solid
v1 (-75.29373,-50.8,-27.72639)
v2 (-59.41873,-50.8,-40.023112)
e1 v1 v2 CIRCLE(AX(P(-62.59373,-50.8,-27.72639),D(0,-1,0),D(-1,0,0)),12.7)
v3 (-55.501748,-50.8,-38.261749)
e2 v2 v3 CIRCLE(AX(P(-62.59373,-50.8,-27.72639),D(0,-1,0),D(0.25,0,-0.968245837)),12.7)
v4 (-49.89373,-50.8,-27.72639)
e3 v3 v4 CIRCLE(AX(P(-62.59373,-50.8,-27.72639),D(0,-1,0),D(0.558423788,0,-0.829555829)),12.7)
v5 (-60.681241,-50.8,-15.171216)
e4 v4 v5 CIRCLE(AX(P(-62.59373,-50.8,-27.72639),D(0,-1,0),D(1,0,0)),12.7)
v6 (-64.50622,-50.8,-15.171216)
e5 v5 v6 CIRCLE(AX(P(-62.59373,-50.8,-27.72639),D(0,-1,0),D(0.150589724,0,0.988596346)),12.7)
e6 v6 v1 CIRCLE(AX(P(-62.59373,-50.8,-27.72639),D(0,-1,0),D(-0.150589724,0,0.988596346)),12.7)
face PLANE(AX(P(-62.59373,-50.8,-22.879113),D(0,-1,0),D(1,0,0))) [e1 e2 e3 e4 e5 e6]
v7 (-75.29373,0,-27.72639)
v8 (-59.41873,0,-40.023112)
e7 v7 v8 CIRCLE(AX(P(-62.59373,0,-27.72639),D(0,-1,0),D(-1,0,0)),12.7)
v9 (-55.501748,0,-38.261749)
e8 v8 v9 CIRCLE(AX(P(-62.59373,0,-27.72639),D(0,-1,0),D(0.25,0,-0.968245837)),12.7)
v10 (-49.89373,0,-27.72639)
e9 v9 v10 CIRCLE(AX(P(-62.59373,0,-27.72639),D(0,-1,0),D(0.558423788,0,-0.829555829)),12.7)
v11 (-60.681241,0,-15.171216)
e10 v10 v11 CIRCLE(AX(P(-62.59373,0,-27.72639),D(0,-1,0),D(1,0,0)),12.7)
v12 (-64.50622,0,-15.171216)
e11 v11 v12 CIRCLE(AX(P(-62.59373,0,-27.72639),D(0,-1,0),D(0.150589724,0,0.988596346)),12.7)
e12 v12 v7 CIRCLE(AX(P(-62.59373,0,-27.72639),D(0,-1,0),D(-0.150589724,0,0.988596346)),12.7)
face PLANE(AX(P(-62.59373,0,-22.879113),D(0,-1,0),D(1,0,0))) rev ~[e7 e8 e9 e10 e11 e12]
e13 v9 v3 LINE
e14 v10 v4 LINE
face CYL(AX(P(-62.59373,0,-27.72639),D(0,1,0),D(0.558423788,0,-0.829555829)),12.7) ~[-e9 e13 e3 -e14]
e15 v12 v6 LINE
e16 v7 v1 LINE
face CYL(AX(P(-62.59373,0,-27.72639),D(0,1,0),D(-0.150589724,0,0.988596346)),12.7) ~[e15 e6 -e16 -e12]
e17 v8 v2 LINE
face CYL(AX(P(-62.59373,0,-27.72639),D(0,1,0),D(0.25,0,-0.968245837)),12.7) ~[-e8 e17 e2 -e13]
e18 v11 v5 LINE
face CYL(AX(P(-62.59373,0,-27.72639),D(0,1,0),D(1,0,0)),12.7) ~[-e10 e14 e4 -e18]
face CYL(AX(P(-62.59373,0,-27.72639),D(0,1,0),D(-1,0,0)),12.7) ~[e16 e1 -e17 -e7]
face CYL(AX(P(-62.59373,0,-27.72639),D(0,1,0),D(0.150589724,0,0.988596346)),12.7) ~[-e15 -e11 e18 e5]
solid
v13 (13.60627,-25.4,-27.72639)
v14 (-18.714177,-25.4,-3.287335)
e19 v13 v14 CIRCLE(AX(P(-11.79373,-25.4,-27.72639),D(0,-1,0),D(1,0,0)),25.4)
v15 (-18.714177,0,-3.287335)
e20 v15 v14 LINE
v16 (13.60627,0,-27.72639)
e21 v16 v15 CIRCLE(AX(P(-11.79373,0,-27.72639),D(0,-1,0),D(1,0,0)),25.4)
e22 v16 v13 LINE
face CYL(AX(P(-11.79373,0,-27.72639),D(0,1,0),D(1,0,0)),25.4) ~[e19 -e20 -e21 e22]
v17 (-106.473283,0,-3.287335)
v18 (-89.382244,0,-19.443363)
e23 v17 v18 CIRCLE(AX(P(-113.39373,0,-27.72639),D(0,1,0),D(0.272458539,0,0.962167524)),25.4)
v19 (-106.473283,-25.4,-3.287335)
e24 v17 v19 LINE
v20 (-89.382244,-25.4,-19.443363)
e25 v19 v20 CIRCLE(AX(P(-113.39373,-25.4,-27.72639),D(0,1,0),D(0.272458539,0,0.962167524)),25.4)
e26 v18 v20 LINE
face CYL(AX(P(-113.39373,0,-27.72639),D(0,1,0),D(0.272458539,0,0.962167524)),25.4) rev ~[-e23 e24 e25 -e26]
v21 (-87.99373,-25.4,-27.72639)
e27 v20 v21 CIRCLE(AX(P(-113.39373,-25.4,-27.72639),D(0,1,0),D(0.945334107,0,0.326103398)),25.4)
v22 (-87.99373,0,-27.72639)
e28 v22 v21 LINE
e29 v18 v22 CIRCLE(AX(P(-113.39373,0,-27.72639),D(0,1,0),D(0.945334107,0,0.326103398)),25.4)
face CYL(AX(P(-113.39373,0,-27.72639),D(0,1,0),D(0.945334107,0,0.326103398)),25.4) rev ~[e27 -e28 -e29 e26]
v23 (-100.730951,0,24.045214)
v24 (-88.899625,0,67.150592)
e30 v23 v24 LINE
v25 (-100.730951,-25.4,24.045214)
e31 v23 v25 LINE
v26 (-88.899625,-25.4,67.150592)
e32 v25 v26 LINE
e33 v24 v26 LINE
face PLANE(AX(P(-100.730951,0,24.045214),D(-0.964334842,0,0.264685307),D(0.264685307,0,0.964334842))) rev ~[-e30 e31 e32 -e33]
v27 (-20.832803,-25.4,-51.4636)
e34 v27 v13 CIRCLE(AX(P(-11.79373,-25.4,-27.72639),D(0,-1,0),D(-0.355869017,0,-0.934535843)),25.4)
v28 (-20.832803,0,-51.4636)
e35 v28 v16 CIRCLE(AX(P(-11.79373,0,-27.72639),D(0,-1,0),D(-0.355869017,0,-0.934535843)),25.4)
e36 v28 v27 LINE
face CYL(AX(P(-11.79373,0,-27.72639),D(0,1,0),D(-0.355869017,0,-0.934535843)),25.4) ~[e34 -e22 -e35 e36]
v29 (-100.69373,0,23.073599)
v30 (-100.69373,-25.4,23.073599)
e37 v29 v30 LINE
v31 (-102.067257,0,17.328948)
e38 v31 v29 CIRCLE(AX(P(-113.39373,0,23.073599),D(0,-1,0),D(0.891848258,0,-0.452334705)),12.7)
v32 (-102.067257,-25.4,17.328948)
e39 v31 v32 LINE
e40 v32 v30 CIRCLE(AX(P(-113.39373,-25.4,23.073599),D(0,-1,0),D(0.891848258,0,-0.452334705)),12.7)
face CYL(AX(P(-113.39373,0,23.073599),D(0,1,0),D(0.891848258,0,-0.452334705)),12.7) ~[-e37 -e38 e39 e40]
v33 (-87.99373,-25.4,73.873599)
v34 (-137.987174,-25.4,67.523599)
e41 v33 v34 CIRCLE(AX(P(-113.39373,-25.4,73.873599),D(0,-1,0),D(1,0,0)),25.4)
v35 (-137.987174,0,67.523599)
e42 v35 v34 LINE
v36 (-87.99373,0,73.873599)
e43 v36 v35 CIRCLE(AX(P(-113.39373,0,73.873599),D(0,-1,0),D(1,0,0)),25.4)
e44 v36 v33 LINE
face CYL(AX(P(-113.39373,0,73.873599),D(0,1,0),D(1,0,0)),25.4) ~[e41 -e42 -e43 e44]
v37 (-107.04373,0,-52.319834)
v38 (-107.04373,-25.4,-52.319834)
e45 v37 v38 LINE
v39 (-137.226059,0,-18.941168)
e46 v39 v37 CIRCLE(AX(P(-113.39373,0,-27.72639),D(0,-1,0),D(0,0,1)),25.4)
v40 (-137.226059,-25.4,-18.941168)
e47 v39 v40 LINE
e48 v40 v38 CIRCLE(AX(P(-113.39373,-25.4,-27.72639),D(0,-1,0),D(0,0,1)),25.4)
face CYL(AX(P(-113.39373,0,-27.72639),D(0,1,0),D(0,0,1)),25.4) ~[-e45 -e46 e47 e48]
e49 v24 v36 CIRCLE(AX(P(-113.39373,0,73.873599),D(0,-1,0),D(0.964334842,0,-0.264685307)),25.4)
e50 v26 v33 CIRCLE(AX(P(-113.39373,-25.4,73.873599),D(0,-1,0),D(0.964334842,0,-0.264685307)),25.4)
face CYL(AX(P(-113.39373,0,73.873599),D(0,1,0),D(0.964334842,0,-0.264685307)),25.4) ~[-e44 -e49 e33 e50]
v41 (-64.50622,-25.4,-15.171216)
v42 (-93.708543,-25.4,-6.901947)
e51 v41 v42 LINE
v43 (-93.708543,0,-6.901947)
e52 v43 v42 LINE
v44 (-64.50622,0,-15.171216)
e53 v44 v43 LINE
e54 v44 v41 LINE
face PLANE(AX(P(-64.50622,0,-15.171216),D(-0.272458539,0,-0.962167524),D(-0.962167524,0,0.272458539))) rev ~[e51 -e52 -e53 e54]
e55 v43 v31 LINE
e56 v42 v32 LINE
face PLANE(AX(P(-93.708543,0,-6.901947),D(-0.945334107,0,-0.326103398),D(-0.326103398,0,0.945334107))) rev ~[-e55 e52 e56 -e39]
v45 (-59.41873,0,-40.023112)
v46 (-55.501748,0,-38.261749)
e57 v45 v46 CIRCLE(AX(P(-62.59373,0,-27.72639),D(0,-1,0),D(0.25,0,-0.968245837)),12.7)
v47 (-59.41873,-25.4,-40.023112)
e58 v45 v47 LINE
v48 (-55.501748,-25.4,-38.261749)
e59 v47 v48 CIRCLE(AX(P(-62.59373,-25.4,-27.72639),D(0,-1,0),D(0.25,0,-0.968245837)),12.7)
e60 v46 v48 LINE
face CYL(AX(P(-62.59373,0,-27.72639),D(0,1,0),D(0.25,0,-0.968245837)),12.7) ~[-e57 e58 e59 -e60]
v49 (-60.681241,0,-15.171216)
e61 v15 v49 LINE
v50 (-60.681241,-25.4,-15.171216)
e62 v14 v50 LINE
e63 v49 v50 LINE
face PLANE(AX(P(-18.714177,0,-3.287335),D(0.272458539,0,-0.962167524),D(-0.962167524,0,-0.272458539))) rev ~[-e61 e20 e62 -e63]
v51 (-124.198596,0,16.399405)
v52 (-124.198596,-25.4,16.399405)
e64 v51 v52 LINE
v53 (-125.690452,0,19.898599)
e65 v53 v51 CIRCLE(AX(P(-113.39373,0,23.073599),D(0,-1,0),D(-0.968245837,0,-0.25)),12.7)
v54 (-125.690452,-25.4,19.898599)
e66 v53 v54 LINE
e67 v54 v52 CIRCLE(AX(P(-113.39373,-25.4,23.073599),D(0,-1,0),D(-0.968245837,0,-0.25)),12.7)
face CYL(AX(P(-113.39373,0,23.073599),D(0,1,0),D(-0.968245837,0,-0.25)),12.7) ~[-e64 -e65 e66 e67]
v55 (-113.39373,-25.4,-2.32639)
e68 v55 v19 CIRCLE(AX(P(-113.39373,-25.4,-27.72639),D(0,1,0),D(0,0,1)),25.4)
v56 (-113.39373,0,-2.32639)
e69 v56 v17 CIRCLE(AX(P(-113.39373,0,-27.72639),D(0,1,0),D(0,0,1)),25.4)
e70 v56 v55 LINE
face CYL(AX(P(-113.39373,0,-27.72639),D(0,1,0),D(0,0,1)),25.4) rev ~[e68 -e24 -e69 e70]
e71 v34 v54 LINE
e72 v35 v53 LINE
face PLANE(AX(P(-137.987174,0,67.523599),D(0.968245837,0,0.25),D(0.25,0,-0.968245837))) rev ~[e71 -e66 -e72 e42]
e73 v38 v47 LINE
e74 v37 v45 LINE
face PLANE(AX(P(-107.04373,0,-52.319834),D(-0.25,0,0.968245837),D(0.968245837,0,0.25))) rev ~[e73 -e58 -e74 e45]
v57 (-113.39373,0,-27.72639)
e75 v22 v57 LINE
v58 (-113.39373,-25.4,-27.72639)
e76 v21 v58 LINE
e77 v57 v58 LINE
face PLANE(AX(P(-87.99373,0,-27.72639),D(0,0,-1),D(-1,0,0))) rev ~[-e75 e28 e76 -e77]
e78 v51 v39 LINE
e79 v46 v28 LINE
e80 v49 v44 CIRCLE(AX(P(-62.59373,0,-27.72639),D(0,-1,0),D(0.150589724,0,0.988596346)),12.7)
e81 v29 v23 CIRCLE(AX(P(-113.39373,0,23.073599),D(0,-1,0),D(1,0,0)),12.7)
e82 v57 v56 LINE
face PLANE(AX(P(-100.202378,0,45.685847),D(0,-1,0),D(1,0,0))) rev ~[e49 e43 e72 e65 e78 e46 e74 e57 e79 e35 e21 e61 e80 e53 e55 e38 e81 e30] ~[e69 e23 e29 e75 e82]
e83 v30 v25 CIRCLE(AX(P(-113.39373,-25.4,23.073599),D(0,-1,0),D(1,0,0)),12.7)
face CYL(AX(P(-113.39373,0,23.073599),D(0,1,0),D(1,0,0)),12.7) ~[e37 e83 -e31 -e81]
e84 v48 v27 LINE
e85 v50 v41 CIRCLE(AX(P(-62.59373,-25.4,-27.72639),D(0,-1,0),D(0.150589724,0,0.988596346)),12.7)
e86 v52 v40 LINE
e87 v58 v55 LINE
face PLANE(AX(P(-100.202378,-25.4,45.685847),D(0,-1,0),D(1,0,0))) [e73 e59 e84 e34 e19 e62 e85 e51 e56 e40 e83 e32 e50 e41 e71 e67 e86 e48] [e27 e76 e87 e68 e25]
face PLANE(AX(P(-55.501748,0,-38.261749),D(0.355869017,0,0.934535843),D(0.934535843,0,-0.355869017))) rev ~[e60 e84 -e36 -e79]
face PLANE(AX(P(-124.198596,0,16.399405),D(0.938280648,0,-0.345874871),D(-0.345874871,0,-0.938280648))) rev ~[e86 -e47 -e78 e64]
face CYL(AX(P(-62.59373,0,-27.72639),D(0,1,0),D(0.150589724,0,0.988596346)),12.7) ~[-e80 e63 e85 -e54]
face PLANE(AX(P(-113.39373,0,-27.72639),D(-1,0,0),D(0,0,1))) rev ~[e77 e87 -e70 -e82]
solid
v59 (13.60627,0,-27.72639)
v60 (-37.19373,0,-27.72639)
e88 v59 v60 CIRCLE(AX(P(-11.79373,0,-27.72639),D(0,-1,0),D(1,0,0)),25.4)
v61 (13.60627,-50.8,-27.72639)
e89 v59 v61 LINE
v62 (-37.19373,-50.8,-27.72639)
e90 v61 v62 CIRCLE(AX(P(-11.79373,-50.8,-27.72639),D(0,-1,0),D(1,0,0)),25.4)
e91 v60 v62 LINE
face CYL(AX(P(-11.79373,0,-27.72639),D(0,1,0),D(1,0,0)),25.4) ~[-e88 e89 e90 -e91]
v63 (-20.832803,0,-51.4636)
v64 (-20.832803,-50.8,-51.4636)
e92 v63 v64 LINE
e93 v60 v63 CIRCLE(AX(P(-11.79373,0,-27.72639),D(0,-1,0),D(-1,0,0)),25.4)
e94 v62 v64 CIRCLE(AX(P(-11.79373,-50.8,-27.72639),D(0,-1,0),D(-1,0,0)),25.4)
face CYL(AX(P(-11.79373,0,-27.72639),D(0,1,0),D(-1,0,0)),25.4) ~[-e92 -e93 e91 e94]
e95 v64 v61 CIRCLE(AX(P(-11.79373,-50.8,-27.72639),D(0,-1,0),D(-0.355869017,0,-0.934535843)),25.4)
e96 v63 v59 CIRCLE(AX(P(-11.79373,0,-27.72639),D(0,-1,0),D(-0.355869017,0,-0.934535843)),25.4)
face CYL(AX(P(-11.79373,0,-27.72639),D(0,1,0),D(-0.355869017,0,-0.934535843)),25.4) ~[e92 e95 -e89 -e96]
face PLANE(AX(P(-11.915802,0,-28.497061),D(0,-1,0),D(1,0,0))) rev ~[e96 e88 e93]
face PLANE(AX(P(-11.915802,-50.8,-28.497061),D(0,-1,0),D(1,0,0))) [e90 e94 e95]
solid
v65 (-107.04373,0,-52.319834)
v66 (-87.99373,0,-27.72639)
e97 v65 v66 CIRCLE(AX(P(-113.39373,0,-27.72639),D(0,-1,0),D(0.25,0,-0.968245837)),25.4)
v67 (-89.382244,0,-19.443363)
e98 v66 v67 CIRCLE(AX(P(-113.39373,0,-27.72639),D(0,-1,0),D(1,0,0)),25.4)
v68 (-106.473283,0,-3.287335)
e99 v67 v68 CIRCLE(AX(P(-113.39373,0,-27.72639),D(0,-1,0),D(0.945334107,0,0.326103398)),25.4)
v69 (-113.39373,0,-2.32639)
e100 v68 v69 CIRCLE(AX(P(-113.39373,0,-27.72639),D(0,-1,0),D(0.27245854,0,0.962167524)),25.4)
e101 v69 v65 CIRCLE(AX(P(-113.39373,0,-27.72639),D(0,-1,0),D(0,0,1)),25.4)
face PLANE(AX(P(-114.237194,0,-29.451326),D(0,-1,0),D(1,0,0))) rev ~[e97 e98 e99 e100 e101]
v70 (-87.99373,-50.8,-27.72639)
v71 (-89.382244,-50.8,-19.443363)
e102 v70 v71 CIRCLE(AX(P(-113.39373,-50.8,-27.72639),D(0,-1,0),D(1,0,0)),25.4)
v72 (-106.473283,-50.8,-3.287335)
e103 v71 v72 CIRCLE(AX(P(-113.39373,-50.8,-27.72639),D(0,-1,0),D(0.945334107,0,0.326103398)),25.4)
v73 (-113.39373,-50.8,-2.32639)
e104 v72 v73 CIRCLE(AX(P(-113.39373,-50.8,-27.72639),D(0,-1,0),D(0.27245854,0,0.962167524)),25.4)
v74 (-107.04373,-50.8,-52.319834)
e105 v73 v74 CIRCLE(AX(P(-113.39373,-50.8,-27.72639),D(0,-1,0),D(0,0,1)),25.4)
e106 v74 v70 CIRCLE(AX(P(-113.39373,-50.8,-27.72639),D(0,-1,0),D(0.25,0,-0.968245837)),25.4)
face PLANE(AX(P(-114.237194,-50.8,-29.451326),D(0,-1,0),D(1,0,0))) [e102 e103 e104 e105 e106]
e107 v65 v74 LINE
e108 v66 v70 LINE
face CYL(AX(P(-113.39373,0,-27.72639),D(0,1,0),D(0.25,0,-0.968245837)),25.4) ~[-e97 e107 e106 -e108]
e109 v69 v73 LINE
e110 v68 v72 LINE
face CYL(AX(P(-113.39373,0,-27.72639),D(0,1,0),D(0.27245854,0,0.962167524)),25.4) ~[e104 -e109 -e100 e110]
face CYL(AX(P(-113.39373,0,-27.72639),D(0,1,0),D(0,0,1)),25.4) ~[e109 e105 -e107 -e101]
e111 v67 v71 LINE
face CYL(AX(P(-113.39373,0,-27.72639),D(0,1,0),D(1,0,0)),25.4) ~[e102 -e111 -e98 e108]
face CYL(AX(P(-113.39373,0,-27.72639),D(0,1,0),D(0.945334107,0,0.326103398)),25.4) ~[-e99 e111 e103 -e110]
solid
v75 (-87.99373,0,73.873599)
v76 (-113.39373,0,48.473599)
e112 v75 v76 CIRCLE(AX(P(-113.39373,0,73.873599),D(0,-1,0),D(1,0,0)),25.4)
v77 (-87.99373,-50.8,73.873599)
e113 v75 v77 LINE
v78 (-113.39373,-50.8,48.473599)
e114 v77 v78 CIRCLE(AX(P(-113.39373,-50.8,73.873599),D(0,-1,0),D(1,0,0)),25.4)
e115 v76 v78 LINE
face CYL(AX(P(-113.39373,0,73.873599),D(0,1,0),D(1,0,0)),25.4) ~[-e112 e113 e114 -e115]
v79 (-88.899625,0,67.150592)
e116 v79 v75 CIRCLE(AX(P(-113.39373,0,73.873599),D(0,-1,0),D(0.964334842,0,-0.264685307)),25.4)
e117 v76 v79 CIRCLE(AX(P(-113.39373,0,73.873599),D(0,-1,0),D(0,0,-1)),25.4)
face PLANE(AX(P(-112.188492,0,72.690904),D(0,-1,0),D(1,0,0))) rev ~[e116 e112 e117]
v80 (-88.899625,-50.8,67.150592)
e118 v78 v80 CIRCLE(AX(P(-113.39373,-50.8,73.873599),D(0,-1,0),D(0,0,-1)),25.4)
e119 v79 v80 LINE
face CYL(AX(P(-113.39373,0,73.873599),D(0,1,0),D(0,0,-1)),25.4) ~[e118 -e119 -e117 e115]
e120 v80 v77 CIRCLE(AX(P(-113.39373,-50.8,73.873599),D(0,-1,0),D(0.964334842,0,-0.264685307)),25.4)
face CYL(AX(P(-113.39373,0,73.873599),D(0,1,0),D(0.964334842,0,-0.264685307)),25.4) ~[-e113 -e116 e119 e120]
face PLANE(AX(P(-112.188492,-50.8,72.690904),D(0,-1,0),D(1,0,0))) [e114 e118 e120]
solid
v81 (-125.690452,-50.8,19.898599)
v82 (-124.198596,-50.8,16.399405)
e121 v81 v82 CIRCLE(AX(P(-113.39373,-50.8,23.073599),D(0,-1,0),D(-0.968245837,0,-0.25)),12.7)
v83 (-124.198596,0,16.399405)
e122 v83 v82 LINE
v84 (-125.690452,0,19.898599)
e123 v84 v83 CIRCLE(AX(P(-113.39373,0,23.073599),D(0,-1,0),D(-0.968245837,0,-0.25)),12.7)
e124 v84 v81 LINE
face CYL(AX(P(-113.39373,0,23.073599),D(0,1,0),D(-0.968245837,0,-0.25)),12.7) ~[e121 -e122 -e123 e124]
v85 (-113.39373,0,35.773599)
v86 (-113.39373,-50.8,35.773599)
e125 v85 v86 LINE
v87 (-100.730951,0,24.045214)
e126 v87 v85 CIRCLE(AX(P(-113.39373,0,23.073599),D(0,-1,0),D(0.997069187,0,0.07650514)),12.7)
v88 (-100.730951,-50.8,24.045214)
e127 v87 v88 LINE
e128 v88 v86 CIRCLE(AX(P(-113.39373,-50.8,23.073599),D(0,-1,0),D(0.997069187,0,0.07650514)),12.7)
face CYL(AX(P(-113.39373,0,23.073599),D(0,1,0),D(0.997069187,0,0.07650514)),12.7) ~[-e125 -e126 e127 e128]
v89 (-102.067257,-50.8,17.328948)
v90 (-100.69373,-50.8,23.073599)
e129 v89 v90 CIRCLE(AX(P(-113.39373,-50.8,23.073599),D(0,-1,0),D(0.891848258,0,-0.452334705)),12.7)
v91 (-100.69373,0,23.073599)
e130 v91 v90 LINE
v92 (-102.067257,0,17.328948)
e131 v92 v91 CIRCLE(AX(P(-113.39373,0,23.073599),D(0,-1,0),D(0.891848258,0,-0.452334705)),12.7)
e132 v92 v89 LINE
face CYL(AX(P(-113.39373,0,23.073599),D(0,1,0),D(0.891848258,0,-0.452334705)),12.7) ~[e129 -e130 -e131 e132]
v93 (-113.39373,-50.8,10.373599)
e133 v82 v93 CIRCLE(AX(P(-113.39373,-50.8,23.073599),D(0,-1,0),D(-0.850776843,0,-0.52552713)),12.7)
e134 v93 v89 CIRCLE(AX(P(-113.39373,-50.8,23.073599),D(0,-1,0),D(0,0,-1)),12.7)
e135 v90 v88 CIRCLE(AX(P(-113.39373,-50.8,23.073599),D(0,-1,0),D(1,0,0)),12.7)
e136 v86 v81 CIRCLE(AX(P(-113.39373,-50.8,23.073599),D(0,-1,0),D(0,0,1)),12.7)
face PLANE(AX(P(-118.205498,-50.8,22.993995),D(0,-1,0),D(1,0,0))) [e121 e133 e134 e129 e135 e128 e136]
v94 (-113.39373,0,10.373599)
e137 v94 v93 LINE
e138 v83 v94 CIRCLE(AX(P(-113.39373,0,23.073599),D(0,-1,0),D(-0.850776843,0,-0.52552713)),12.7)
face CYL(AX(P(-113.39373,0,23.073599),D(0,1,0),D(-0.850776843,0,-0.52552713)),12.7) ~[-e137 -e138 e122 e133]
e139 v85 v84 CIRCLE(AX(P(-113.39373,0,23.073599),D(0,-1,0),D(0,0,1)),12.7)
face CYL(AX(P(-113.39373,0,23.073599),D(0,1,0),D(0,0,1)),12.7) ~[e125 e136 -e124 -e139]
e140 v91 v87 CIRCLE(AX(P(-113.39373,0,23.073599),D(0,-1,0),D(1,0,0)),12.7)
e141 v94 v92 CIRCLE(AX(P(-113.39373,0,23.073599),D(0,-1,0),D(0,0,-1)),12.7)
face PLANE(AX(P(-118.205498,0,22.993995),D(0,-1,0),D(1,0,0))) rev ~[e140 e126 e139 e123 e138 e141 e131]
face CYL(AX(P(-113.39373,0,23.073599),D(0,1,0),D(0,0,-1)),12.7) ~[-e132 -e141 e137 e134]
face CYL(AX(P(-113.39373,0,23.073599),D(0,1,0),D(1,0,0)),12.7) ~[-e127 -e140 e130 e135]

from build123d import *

# Parameters (mm, degrees)
F1_DEPTH = 50.8
F2_DEPTH = 25.4


with BuildPart() as f1:
    # F0 (on Front) → F1 (new body)
    with BuildSketch(Plane.XZ):
        with BuildLine():
            ThreePointArc((-137.9871743623, 67.5235991138), (-128.9479899805, 53.7931359717), (-113.3937301139, 48.4735991138))
            ThreePointArc((-113.3937301139, 48.4735991138), (-97.9925024501, 53.6755252836), (-88.8996251196, 67.1505923067))
            ThreePointArc((-88.8996251196, 67.1505923067), (-88.221222622, 70.4817166612), (-87.9937301139, 73.8735991138))
            ThreePointArc((-87.9937301139, 73.8735991138), (-116.5942391429, 99.071153399), (-137.9871743623, 67.5235991138))
        make_face()
    extrude(amount=F1_DEPTH)


with BuildPart() as f1b:
    # F0 (on Front) → F1, piece 2 (new body)
    with BuildSketch(Plane.XZ):
        with BuildLine():
            Line((-113.3937301139, 23.0735991138), (-113.3937301139, 35.7735991138))
            ThreePointArc((-113.3937301139, 35.7735991138), (-123.4339616849, 30.8507290471), (-125.6904522381, 19.8985991138))
            ThreePointArc((-125.6904522381, 19.8985991138), (-125.0762783357, 18.0928293896), (-124.1985960163, 16.3994045683))
            ThreePointArc((-124.1985960163, 16.3994045683), (-119.5795093401, 11.9818843968), (-113.3937301139, 10.3735991138))
            Line((-113.3937301139, 10.3735991138), (-113.3937301139, 23.0735991138))
        make_face()
        with BuildLine():
            ThreePointArc((-100.73095144, 24.0452143962), (-104.7638261192, 32.3910428106), (-113.3937301139, 35.7735991138))
            Line((-113.3937301139, 35.7735991138), (-113.3937301139, 23.0735991138))
            Line((-113.3937301139, 23.0735991138), (-113.3937301139, 10.3735991138))
            ThreePointArc((-113.3937301139, 10.3735991138), (-106.7479444034, 12.2512365117), (-102.0672572423, 17.3289483594))
            ThreePointArc((-102.0672572423, 17.3289483594), (-101.0418839873, 20.1203132716), (-100.6937301139, 23.0735991138))
            ThreePointArc((-100.6937301139, 23.0735991138), (-100.7030388569, 23.5597630995), (-100.73095144, 24.0452143962))
        make_face()
    extrude(amount=F1_DEPTH)


with BuildPart() as f1c:
    # F0 (on Front) → F1, piece 3 (new body)
    with BuildSketch(Plane.XZ):
        with BuildLine():
            Line((-113.3937301139, -27.7263897808), (-113.3937301139, -2.3263897808))
            ThreePointArc((-113.3937301139, -2.3263897808), (-127.919833657, -6.890067748), (-137.2260585632, -18.94116806))
            ThreePointArc((-137.2260585632, -18.94116806), (-132.2336289319, -44.7621818823), (-107.0437301139, -52.3198340292))
            ThreePointArc((-107.0437301139, -52.3198340292), (-93.3132669718, -43.2806496474), (-87.9937301139, -27.7263897808))
            Line((-87.9937301139, -27.7263897808), (-113.3937301139, -27.7263897808))
        make_face()
        with BuildLine():
            ThreePointArc((-106.473283211, -3.2873346709), (-109.9003077082, -2.5677729687), (-113.3937301139, -2.3263897808))
            Line((-113.3937301139, -2.3263897808), (-113.3937301139, -27.7263897808))
            Line((-113.3937301139, -27.7263897808), (-87.9937301139, -27.7263897808))
            ThreePointArc((-87.9937301139, -27.7263897808), (-88.3432635278, -23.5270893845), (-89.3822438003, -19.4433634609))
            ThreePointArc((-89.3822438003, -19.4433634609), (-95.945221877, -9.2680702389), (-106.473283211, -3.2873346709))
        make_face()
    extrude(amount=F1_DEPTH)


with BuildPart() as f1d:
    # F0 (on Front) → F1, piece 4 (new body)
    with BuildSketch(Plane.XZ):
        with BuildLine():
            ThreePointArc((-60.6812406189, -15.1712161885), (-62.5937301139, -15.0263897808), (-64.5062196088, -15.1712161885))
            ThreePointArc((-64.5062196088, -15.1712161885), (-72.2264508247, -19.4498753147), (-75.2937301139, -27.7263897808))
            Line((-75.2937301139, -27.7263897808), (-62.5937301139, -27.7263897808))
            Line((-62.5937301139, -27.7263897808), (-49.8937301139, -27.7263897808))
            ThreePointArc((-49.8937301139, -27.7263897808), (-52.961009403, -19.4498753147), (-60.6812406189, -15.1712161885))
        make_face()
        with BuildLine():
            ThreePointArc((-75.2937301139, -27.7263897808), (-70.3708600472, -37.7666213518), (-59.4187301139, -40.023111905))
            ThreePointArc((-59.4187301139, -40.023111905), (-57.3852437316, -39.309207642), (-55.5017480057, -38.2617488054))
            ThreePointArc((-55.5017480057, -38.2617488054), (-51.3830616955, -33.6938778296), (-49.8937301139, -27.7263897808))
            Line((-49.8937301139, -27.7263897808), (-62.5937301139, -27.7263897808))
            Line((-62.5937301139, -27.7263897808), (-75.2937301139, -27.7263897808))
        make_face()
    extrude(amount=F1_DEPTH)


with BuildPart() as f1e:
    # F0 (on Front) → F1, piece 5 (new body)
    with BuildSketch(Plane.XZ):
        with BuildLine():
            ThreePointArc((13.6062698861, -27.7263897808), (3.5258757666, -7.4663385551), (-18.7141770167, -3.2873346709))
            ThreePointArc((-18.7141770167, -3.2873346709), (-32.0537813395, -12.4067839003), (-37.1937301139, -27.7263897808))
            ThreePointArc((-37.1937301139, -27.7263897808), (-32.7072718404, -42.1410965919), (-20.8328031491, -51.4636002037))
            ThreePointArc((-20.8328031491, -51.4636002037), (2.6209766973, -48.6399315073), (13.6062698861, -27.7263897808))
        make_face()
    extrude(amount=F1_DEPTH)


with BuildPart() as f2:
    # F0 (on Front) → F2 (new body)
    with BuildSketch(Plane.XZ):
        with BuildLine():
            ThreePointArc((-88.8996251196, 67.1505923067), (-97.9925024501, 53.6755252836), (-113.3937301139, 48.4735991138))
            Line((-113.3937301139, 48.4735991138), (-113.3937301139, 35.7735991138))
            ThreePointArc((-113.3937301139, 35.7735991138), (-104.7638261192, 32.3910428106), (-100.73095144, 24.0452143962))
            Line((-100.73095144, 24.0452143962), (-88.8996251196, 67.1505923067))
        make_face()
        with BuildLine():
            Line((-113.3937301139, 35.7735991138), (-113.3937301139, 48.4735991138))
            ThreePointArc((-113.3937301139, 48.4735991138), (-128.9479899805, 53.7931359717), (-137.9871743623, 67.5235991138))
            Line((-137.9871743623, 67.5235991138), (-125.6904522381, 19.8985991138))
            ThreePointArc((-125.6904522381, 19.8985991138), (-123.4339616849, 30.8507290471), (-113.3937301139, 35.7735991138))
        make_face()
        with BuildLine():
            ThreePointArc((-137.9871743623, 67.5235991138), (-128.9479899805, 53.7931359717), (-113.3937301139, 48.4735991138))
            ThreePointArc((-113.3937301139, 48.4735991138), (-97.9925024501, 53.6755252836), (-88.8996251196, 67.1505923067))
            ThreePointArc((-88.8996251196, 67.1505923067), (-88.221222622, 70.4817166612), (-87.9937301139, 73.8735991138))
            ThreePointArc((-87.9937301139, 73.8735991138), (-116.5942391429, 99.071153399), (-137.9871743623, 67.5235991138))
        make_face()
        with BuildLine():
            ThreePointArc((-100.73095144, 24.0452143962), (-104.7638261192, 32.3910428106), (-113.3937301139, 35.7735991138))
            Line((-113.3937301139, 35.7735991138), (-113.3937301139, 23.0735991138))
            Line((-113.3937301139, 23.0735991138), (-113.3937301139, 10.3735991138))
            ThreePointArc((-113.3937301139, 10.3735991138), (-106.7479444034, 12.2512365117), (-102.0672572423, 17.3289483594))
            ThreePointArc((-102.0672572423, 17.3289483594), (-101.0418839873, 20.1203132716), (-100.6937301139, 23.0735991138))
            ThreePointArc((-100.6937301139, 23.0735991138), (-100.7030388569, 23.5597630995), (-100.73095144, 24.0452143962))
        make_face()
        with BuildLine():
            Line((-113.3937301139, 23.0735991138), (-113.3937301139, 35.7735991138))
            ThreePointArc((-113.3937301139, 35.7735991138), (-123.4339616849, 30.8507290471), (-125.6904522381, 19.8985991138))
            ThreePointArc((-125.6904522381, 19.8985991138), (-125.0762783357, 18.0928293896), (-124.1985960163, 16.3994045683))
            ThreePointArc((-124.1985960163, 16.3994045683), (-119.5795093401, 11.9818843968), (-113.3937301139, 10.3735991138))
            Line((-113.3937301139, 10.3735991138), (-113.3937301139, 23.0735991138))
        make_face()
        with BuildLine():
            ThreePointArc((-102.0672572423, 17.3289483594), (-106.7479444034, 12.2512365117), (-113.3937301139, 10.3735991138))
            Line((-113.3937301139, 10.3735991138), (-113.3937301139, -2.3263897808))
            ThreePointArc((-113.3937301139, -2.3263897808), (-109.9003077082, -2.5677729687), (-106.473283211, -3.2873346709))
            Line((-106.473283211, -3.2873346709), (-93.7085434453, -6.901946749))
            Line((-93.7085434453, -6.901946749), (-102.0672572423, 17.3289483594))
        make_face()
        with BuildLine():
            Line((-113.3937301139, -2.3263897808), (-113.3937301139, 10.3735991138))
            ThreePointArc((-113.3937301139, 10.3735991138), (-119.5795093401, 11.9818843968), (-124.1985960163, 16.3994045683))
            Line((-124.1985960163, 16.3994045683), (-137.2260585632, -18.94116806))
            ThreePointArc((-137.2260585632, -18.94116806), (-127.919833657, -6.890067748), (-113.3937301139, -2.3263897808))
        make_face()
        with BuildLine():
            Line((-113.3937301139, -27.7263897808), (-113.3937301139, -2.3263897808))
            ThreePointArc((-113.3937301139, -2.3263897808), (-127.919833657, -6.890067748), (-137.2260585632, -18.94116806))
            ThreePointArc((-137.2260585632, -18.94116806), (-132.2336289319, -44.7621818823), (-107.0437301139, -52.3198340292))
            ThreePointArc((-107.0437301139, -52.3198340292), (-93.3132669718, -43.2806496474), (-87.9937301139, -27.7263897808))
            Line((-87.9937301139, -27.7263897808), (-113.3937301139, -27.7263897808))
        make_face()
        with BuildLine():
            Line((-93.7085434453, -6.901946749), (-106.473283211, -3.2873346709))
            ThreePointArc((-106.473283211, -3.2873346709), (-95.945221877, -9.2680702389), (-89.3822438003, -19.4433634609))
            Line((-89.3822438003, -19.4433634609), (-93.7085434453, -6.901946749))
        make_face()
        with BuildLine():
            Line((-64.5062196088, -15.1712161885), (-93.7085434453, -6.901946749))
            Line((-93.7085434453, -6.901946749), (-89.3822438003, -19.4433634609))
            ThreePointArc((-89.3822438003, -19.4433634609), (-88.3432635278, -23.5270893845), (-87.9937301139, -27.7263897808))
            Line((-87.9937301139, -27.7263897808), (-75.2937301139, -27.7263897808))
            ThreePointArc((-75.2937301139, -27.7263897808), (-72.2264508247, -19.4498753147), (-64.5062196088, -15.1712161885))
        make_face()
        with BuildLine():
            ThreePointArc((-87.9937301139, -27.7263897808), (-93.3132669718, -43.2806496474), (-107.0437301139, -52.3198340292))
            Line((-107.0437301139, -52.3198340292), (-59.4187301139, -40.023111905))
            ThreePointArc((-59.4187301139, -40.023111905), (-70.3708600472, -37.7666213518), (-75.2937301139, -27.7263897808))
            Line((-75.2937301139, -27.7263897808), (-87.9937301139, -27.7263897808))
        make_face()
        with BuildLine():
            ThreePointArc((-60.6812406189, -15.1712161885), (-62.5937301139, -15.0263897808), (-64.5062196088, -15.1712161885))
            ThreePointArc((-64.5062196088, -15.1712161885), (-72.2264508247, -19.4498753147), (-75.2937301139, -27.7263897808))
            Line((-75.2937301139, -27.7263897808), (-62.5937301139, -27.7263897808))
            Line((-62.5937301139, -27.7263897808), (-49.8937301139, -27.7263897808))
            ThreePointArc((-49.8937301139, -27.7263897808), (-52.961009403, -19.4498753147), (-60.6812406189, -15.1712161885))
        make_face()
        with BuildLine():
            ThreePointArc((-75.2937301139, -27.7263897808), (-70.3708600472, -37.7666213518), (-59.4187301139, -40.023111905))
            ThreePointArc((-59.4187301139, -40.023111905), (-57.3852437316, -39.309207642), (-55.5017480057, -38.2617488054))
            ThreePointArc((-55.5017480057, -38.2617488054), (-51.3830616955, -33.6938778296), (-49.8937301139, -27.7263897808))
            Line((-49.8937301139, -27.7263897808), (-62.5937301139, -27.7263897808))
            Line((-62.5937301139, -27.7263897808), (-75.2937301139, -27.7263897808))
        make_face()
        with BuildLine():
            Line((-18.7141770167, -3.2873346709), (-60.6812406189, -15.1712161885))
            ThreePointArc((-60.6812406189, -15.1712161885), (-52.961009403, -19.4498753147), (-49.8937301139, -27.7263897808))
            Line((-49.8937301139, -27.7263897808), (-37.1937301139, -27.7263897808))
            ThreePointArc((-37.1937301139, -27.7263897808), (-32.0537813395, -12.4067839003), (-18.7141770167, -3.2873346709))
        make_face()
        with BuildLine():
            ThreePointArc((-49.8937301139, -27.7263897808), (-51.3830616955, -33.6938778296), (-55.5017480057, -38.2617488054))
            Line((-55.5017480057, -38.2617488054), (-20.8328031491, -51.4636002037))
            ThreePointArc((-20.8328031491, -51.4636002037), (-32.7072718404, -42.1410965919), (-37.1937301139, -27.7263897808))
            Line((-37.1937301139, -27.7263897808), (-49.8937301139, -27.7263897808))
        make_face()
        with BuildLine():
            ThreePointArc((13.6062698861, -27.7263897808), (3.5258757666, -7.4663385551), (-18.7141770167, -3.2873346709))
            ThreePointArc((-18.7141770167, -3.2873346709), (-32.0537813395, -12.4067839003), (-37.1937301139, -27.7263897808))
            ThreePointArc((-37.1937301139, -27.7263897808), (-32.7072718404, -42.1410965919), (-20.8328031491, -51.4636002037))
            ThreePointArc((-20.8328031491, -51.4636002037), (2.6209766973, -48.6399315073), (13.6062698861, -27.7263897808))
        make_face()
    extrude(amount=F2_DEPTH)


solid = Compound([f1.part, f1b.part, f1c.part, f1d.part, f1e.part, f2.part])
